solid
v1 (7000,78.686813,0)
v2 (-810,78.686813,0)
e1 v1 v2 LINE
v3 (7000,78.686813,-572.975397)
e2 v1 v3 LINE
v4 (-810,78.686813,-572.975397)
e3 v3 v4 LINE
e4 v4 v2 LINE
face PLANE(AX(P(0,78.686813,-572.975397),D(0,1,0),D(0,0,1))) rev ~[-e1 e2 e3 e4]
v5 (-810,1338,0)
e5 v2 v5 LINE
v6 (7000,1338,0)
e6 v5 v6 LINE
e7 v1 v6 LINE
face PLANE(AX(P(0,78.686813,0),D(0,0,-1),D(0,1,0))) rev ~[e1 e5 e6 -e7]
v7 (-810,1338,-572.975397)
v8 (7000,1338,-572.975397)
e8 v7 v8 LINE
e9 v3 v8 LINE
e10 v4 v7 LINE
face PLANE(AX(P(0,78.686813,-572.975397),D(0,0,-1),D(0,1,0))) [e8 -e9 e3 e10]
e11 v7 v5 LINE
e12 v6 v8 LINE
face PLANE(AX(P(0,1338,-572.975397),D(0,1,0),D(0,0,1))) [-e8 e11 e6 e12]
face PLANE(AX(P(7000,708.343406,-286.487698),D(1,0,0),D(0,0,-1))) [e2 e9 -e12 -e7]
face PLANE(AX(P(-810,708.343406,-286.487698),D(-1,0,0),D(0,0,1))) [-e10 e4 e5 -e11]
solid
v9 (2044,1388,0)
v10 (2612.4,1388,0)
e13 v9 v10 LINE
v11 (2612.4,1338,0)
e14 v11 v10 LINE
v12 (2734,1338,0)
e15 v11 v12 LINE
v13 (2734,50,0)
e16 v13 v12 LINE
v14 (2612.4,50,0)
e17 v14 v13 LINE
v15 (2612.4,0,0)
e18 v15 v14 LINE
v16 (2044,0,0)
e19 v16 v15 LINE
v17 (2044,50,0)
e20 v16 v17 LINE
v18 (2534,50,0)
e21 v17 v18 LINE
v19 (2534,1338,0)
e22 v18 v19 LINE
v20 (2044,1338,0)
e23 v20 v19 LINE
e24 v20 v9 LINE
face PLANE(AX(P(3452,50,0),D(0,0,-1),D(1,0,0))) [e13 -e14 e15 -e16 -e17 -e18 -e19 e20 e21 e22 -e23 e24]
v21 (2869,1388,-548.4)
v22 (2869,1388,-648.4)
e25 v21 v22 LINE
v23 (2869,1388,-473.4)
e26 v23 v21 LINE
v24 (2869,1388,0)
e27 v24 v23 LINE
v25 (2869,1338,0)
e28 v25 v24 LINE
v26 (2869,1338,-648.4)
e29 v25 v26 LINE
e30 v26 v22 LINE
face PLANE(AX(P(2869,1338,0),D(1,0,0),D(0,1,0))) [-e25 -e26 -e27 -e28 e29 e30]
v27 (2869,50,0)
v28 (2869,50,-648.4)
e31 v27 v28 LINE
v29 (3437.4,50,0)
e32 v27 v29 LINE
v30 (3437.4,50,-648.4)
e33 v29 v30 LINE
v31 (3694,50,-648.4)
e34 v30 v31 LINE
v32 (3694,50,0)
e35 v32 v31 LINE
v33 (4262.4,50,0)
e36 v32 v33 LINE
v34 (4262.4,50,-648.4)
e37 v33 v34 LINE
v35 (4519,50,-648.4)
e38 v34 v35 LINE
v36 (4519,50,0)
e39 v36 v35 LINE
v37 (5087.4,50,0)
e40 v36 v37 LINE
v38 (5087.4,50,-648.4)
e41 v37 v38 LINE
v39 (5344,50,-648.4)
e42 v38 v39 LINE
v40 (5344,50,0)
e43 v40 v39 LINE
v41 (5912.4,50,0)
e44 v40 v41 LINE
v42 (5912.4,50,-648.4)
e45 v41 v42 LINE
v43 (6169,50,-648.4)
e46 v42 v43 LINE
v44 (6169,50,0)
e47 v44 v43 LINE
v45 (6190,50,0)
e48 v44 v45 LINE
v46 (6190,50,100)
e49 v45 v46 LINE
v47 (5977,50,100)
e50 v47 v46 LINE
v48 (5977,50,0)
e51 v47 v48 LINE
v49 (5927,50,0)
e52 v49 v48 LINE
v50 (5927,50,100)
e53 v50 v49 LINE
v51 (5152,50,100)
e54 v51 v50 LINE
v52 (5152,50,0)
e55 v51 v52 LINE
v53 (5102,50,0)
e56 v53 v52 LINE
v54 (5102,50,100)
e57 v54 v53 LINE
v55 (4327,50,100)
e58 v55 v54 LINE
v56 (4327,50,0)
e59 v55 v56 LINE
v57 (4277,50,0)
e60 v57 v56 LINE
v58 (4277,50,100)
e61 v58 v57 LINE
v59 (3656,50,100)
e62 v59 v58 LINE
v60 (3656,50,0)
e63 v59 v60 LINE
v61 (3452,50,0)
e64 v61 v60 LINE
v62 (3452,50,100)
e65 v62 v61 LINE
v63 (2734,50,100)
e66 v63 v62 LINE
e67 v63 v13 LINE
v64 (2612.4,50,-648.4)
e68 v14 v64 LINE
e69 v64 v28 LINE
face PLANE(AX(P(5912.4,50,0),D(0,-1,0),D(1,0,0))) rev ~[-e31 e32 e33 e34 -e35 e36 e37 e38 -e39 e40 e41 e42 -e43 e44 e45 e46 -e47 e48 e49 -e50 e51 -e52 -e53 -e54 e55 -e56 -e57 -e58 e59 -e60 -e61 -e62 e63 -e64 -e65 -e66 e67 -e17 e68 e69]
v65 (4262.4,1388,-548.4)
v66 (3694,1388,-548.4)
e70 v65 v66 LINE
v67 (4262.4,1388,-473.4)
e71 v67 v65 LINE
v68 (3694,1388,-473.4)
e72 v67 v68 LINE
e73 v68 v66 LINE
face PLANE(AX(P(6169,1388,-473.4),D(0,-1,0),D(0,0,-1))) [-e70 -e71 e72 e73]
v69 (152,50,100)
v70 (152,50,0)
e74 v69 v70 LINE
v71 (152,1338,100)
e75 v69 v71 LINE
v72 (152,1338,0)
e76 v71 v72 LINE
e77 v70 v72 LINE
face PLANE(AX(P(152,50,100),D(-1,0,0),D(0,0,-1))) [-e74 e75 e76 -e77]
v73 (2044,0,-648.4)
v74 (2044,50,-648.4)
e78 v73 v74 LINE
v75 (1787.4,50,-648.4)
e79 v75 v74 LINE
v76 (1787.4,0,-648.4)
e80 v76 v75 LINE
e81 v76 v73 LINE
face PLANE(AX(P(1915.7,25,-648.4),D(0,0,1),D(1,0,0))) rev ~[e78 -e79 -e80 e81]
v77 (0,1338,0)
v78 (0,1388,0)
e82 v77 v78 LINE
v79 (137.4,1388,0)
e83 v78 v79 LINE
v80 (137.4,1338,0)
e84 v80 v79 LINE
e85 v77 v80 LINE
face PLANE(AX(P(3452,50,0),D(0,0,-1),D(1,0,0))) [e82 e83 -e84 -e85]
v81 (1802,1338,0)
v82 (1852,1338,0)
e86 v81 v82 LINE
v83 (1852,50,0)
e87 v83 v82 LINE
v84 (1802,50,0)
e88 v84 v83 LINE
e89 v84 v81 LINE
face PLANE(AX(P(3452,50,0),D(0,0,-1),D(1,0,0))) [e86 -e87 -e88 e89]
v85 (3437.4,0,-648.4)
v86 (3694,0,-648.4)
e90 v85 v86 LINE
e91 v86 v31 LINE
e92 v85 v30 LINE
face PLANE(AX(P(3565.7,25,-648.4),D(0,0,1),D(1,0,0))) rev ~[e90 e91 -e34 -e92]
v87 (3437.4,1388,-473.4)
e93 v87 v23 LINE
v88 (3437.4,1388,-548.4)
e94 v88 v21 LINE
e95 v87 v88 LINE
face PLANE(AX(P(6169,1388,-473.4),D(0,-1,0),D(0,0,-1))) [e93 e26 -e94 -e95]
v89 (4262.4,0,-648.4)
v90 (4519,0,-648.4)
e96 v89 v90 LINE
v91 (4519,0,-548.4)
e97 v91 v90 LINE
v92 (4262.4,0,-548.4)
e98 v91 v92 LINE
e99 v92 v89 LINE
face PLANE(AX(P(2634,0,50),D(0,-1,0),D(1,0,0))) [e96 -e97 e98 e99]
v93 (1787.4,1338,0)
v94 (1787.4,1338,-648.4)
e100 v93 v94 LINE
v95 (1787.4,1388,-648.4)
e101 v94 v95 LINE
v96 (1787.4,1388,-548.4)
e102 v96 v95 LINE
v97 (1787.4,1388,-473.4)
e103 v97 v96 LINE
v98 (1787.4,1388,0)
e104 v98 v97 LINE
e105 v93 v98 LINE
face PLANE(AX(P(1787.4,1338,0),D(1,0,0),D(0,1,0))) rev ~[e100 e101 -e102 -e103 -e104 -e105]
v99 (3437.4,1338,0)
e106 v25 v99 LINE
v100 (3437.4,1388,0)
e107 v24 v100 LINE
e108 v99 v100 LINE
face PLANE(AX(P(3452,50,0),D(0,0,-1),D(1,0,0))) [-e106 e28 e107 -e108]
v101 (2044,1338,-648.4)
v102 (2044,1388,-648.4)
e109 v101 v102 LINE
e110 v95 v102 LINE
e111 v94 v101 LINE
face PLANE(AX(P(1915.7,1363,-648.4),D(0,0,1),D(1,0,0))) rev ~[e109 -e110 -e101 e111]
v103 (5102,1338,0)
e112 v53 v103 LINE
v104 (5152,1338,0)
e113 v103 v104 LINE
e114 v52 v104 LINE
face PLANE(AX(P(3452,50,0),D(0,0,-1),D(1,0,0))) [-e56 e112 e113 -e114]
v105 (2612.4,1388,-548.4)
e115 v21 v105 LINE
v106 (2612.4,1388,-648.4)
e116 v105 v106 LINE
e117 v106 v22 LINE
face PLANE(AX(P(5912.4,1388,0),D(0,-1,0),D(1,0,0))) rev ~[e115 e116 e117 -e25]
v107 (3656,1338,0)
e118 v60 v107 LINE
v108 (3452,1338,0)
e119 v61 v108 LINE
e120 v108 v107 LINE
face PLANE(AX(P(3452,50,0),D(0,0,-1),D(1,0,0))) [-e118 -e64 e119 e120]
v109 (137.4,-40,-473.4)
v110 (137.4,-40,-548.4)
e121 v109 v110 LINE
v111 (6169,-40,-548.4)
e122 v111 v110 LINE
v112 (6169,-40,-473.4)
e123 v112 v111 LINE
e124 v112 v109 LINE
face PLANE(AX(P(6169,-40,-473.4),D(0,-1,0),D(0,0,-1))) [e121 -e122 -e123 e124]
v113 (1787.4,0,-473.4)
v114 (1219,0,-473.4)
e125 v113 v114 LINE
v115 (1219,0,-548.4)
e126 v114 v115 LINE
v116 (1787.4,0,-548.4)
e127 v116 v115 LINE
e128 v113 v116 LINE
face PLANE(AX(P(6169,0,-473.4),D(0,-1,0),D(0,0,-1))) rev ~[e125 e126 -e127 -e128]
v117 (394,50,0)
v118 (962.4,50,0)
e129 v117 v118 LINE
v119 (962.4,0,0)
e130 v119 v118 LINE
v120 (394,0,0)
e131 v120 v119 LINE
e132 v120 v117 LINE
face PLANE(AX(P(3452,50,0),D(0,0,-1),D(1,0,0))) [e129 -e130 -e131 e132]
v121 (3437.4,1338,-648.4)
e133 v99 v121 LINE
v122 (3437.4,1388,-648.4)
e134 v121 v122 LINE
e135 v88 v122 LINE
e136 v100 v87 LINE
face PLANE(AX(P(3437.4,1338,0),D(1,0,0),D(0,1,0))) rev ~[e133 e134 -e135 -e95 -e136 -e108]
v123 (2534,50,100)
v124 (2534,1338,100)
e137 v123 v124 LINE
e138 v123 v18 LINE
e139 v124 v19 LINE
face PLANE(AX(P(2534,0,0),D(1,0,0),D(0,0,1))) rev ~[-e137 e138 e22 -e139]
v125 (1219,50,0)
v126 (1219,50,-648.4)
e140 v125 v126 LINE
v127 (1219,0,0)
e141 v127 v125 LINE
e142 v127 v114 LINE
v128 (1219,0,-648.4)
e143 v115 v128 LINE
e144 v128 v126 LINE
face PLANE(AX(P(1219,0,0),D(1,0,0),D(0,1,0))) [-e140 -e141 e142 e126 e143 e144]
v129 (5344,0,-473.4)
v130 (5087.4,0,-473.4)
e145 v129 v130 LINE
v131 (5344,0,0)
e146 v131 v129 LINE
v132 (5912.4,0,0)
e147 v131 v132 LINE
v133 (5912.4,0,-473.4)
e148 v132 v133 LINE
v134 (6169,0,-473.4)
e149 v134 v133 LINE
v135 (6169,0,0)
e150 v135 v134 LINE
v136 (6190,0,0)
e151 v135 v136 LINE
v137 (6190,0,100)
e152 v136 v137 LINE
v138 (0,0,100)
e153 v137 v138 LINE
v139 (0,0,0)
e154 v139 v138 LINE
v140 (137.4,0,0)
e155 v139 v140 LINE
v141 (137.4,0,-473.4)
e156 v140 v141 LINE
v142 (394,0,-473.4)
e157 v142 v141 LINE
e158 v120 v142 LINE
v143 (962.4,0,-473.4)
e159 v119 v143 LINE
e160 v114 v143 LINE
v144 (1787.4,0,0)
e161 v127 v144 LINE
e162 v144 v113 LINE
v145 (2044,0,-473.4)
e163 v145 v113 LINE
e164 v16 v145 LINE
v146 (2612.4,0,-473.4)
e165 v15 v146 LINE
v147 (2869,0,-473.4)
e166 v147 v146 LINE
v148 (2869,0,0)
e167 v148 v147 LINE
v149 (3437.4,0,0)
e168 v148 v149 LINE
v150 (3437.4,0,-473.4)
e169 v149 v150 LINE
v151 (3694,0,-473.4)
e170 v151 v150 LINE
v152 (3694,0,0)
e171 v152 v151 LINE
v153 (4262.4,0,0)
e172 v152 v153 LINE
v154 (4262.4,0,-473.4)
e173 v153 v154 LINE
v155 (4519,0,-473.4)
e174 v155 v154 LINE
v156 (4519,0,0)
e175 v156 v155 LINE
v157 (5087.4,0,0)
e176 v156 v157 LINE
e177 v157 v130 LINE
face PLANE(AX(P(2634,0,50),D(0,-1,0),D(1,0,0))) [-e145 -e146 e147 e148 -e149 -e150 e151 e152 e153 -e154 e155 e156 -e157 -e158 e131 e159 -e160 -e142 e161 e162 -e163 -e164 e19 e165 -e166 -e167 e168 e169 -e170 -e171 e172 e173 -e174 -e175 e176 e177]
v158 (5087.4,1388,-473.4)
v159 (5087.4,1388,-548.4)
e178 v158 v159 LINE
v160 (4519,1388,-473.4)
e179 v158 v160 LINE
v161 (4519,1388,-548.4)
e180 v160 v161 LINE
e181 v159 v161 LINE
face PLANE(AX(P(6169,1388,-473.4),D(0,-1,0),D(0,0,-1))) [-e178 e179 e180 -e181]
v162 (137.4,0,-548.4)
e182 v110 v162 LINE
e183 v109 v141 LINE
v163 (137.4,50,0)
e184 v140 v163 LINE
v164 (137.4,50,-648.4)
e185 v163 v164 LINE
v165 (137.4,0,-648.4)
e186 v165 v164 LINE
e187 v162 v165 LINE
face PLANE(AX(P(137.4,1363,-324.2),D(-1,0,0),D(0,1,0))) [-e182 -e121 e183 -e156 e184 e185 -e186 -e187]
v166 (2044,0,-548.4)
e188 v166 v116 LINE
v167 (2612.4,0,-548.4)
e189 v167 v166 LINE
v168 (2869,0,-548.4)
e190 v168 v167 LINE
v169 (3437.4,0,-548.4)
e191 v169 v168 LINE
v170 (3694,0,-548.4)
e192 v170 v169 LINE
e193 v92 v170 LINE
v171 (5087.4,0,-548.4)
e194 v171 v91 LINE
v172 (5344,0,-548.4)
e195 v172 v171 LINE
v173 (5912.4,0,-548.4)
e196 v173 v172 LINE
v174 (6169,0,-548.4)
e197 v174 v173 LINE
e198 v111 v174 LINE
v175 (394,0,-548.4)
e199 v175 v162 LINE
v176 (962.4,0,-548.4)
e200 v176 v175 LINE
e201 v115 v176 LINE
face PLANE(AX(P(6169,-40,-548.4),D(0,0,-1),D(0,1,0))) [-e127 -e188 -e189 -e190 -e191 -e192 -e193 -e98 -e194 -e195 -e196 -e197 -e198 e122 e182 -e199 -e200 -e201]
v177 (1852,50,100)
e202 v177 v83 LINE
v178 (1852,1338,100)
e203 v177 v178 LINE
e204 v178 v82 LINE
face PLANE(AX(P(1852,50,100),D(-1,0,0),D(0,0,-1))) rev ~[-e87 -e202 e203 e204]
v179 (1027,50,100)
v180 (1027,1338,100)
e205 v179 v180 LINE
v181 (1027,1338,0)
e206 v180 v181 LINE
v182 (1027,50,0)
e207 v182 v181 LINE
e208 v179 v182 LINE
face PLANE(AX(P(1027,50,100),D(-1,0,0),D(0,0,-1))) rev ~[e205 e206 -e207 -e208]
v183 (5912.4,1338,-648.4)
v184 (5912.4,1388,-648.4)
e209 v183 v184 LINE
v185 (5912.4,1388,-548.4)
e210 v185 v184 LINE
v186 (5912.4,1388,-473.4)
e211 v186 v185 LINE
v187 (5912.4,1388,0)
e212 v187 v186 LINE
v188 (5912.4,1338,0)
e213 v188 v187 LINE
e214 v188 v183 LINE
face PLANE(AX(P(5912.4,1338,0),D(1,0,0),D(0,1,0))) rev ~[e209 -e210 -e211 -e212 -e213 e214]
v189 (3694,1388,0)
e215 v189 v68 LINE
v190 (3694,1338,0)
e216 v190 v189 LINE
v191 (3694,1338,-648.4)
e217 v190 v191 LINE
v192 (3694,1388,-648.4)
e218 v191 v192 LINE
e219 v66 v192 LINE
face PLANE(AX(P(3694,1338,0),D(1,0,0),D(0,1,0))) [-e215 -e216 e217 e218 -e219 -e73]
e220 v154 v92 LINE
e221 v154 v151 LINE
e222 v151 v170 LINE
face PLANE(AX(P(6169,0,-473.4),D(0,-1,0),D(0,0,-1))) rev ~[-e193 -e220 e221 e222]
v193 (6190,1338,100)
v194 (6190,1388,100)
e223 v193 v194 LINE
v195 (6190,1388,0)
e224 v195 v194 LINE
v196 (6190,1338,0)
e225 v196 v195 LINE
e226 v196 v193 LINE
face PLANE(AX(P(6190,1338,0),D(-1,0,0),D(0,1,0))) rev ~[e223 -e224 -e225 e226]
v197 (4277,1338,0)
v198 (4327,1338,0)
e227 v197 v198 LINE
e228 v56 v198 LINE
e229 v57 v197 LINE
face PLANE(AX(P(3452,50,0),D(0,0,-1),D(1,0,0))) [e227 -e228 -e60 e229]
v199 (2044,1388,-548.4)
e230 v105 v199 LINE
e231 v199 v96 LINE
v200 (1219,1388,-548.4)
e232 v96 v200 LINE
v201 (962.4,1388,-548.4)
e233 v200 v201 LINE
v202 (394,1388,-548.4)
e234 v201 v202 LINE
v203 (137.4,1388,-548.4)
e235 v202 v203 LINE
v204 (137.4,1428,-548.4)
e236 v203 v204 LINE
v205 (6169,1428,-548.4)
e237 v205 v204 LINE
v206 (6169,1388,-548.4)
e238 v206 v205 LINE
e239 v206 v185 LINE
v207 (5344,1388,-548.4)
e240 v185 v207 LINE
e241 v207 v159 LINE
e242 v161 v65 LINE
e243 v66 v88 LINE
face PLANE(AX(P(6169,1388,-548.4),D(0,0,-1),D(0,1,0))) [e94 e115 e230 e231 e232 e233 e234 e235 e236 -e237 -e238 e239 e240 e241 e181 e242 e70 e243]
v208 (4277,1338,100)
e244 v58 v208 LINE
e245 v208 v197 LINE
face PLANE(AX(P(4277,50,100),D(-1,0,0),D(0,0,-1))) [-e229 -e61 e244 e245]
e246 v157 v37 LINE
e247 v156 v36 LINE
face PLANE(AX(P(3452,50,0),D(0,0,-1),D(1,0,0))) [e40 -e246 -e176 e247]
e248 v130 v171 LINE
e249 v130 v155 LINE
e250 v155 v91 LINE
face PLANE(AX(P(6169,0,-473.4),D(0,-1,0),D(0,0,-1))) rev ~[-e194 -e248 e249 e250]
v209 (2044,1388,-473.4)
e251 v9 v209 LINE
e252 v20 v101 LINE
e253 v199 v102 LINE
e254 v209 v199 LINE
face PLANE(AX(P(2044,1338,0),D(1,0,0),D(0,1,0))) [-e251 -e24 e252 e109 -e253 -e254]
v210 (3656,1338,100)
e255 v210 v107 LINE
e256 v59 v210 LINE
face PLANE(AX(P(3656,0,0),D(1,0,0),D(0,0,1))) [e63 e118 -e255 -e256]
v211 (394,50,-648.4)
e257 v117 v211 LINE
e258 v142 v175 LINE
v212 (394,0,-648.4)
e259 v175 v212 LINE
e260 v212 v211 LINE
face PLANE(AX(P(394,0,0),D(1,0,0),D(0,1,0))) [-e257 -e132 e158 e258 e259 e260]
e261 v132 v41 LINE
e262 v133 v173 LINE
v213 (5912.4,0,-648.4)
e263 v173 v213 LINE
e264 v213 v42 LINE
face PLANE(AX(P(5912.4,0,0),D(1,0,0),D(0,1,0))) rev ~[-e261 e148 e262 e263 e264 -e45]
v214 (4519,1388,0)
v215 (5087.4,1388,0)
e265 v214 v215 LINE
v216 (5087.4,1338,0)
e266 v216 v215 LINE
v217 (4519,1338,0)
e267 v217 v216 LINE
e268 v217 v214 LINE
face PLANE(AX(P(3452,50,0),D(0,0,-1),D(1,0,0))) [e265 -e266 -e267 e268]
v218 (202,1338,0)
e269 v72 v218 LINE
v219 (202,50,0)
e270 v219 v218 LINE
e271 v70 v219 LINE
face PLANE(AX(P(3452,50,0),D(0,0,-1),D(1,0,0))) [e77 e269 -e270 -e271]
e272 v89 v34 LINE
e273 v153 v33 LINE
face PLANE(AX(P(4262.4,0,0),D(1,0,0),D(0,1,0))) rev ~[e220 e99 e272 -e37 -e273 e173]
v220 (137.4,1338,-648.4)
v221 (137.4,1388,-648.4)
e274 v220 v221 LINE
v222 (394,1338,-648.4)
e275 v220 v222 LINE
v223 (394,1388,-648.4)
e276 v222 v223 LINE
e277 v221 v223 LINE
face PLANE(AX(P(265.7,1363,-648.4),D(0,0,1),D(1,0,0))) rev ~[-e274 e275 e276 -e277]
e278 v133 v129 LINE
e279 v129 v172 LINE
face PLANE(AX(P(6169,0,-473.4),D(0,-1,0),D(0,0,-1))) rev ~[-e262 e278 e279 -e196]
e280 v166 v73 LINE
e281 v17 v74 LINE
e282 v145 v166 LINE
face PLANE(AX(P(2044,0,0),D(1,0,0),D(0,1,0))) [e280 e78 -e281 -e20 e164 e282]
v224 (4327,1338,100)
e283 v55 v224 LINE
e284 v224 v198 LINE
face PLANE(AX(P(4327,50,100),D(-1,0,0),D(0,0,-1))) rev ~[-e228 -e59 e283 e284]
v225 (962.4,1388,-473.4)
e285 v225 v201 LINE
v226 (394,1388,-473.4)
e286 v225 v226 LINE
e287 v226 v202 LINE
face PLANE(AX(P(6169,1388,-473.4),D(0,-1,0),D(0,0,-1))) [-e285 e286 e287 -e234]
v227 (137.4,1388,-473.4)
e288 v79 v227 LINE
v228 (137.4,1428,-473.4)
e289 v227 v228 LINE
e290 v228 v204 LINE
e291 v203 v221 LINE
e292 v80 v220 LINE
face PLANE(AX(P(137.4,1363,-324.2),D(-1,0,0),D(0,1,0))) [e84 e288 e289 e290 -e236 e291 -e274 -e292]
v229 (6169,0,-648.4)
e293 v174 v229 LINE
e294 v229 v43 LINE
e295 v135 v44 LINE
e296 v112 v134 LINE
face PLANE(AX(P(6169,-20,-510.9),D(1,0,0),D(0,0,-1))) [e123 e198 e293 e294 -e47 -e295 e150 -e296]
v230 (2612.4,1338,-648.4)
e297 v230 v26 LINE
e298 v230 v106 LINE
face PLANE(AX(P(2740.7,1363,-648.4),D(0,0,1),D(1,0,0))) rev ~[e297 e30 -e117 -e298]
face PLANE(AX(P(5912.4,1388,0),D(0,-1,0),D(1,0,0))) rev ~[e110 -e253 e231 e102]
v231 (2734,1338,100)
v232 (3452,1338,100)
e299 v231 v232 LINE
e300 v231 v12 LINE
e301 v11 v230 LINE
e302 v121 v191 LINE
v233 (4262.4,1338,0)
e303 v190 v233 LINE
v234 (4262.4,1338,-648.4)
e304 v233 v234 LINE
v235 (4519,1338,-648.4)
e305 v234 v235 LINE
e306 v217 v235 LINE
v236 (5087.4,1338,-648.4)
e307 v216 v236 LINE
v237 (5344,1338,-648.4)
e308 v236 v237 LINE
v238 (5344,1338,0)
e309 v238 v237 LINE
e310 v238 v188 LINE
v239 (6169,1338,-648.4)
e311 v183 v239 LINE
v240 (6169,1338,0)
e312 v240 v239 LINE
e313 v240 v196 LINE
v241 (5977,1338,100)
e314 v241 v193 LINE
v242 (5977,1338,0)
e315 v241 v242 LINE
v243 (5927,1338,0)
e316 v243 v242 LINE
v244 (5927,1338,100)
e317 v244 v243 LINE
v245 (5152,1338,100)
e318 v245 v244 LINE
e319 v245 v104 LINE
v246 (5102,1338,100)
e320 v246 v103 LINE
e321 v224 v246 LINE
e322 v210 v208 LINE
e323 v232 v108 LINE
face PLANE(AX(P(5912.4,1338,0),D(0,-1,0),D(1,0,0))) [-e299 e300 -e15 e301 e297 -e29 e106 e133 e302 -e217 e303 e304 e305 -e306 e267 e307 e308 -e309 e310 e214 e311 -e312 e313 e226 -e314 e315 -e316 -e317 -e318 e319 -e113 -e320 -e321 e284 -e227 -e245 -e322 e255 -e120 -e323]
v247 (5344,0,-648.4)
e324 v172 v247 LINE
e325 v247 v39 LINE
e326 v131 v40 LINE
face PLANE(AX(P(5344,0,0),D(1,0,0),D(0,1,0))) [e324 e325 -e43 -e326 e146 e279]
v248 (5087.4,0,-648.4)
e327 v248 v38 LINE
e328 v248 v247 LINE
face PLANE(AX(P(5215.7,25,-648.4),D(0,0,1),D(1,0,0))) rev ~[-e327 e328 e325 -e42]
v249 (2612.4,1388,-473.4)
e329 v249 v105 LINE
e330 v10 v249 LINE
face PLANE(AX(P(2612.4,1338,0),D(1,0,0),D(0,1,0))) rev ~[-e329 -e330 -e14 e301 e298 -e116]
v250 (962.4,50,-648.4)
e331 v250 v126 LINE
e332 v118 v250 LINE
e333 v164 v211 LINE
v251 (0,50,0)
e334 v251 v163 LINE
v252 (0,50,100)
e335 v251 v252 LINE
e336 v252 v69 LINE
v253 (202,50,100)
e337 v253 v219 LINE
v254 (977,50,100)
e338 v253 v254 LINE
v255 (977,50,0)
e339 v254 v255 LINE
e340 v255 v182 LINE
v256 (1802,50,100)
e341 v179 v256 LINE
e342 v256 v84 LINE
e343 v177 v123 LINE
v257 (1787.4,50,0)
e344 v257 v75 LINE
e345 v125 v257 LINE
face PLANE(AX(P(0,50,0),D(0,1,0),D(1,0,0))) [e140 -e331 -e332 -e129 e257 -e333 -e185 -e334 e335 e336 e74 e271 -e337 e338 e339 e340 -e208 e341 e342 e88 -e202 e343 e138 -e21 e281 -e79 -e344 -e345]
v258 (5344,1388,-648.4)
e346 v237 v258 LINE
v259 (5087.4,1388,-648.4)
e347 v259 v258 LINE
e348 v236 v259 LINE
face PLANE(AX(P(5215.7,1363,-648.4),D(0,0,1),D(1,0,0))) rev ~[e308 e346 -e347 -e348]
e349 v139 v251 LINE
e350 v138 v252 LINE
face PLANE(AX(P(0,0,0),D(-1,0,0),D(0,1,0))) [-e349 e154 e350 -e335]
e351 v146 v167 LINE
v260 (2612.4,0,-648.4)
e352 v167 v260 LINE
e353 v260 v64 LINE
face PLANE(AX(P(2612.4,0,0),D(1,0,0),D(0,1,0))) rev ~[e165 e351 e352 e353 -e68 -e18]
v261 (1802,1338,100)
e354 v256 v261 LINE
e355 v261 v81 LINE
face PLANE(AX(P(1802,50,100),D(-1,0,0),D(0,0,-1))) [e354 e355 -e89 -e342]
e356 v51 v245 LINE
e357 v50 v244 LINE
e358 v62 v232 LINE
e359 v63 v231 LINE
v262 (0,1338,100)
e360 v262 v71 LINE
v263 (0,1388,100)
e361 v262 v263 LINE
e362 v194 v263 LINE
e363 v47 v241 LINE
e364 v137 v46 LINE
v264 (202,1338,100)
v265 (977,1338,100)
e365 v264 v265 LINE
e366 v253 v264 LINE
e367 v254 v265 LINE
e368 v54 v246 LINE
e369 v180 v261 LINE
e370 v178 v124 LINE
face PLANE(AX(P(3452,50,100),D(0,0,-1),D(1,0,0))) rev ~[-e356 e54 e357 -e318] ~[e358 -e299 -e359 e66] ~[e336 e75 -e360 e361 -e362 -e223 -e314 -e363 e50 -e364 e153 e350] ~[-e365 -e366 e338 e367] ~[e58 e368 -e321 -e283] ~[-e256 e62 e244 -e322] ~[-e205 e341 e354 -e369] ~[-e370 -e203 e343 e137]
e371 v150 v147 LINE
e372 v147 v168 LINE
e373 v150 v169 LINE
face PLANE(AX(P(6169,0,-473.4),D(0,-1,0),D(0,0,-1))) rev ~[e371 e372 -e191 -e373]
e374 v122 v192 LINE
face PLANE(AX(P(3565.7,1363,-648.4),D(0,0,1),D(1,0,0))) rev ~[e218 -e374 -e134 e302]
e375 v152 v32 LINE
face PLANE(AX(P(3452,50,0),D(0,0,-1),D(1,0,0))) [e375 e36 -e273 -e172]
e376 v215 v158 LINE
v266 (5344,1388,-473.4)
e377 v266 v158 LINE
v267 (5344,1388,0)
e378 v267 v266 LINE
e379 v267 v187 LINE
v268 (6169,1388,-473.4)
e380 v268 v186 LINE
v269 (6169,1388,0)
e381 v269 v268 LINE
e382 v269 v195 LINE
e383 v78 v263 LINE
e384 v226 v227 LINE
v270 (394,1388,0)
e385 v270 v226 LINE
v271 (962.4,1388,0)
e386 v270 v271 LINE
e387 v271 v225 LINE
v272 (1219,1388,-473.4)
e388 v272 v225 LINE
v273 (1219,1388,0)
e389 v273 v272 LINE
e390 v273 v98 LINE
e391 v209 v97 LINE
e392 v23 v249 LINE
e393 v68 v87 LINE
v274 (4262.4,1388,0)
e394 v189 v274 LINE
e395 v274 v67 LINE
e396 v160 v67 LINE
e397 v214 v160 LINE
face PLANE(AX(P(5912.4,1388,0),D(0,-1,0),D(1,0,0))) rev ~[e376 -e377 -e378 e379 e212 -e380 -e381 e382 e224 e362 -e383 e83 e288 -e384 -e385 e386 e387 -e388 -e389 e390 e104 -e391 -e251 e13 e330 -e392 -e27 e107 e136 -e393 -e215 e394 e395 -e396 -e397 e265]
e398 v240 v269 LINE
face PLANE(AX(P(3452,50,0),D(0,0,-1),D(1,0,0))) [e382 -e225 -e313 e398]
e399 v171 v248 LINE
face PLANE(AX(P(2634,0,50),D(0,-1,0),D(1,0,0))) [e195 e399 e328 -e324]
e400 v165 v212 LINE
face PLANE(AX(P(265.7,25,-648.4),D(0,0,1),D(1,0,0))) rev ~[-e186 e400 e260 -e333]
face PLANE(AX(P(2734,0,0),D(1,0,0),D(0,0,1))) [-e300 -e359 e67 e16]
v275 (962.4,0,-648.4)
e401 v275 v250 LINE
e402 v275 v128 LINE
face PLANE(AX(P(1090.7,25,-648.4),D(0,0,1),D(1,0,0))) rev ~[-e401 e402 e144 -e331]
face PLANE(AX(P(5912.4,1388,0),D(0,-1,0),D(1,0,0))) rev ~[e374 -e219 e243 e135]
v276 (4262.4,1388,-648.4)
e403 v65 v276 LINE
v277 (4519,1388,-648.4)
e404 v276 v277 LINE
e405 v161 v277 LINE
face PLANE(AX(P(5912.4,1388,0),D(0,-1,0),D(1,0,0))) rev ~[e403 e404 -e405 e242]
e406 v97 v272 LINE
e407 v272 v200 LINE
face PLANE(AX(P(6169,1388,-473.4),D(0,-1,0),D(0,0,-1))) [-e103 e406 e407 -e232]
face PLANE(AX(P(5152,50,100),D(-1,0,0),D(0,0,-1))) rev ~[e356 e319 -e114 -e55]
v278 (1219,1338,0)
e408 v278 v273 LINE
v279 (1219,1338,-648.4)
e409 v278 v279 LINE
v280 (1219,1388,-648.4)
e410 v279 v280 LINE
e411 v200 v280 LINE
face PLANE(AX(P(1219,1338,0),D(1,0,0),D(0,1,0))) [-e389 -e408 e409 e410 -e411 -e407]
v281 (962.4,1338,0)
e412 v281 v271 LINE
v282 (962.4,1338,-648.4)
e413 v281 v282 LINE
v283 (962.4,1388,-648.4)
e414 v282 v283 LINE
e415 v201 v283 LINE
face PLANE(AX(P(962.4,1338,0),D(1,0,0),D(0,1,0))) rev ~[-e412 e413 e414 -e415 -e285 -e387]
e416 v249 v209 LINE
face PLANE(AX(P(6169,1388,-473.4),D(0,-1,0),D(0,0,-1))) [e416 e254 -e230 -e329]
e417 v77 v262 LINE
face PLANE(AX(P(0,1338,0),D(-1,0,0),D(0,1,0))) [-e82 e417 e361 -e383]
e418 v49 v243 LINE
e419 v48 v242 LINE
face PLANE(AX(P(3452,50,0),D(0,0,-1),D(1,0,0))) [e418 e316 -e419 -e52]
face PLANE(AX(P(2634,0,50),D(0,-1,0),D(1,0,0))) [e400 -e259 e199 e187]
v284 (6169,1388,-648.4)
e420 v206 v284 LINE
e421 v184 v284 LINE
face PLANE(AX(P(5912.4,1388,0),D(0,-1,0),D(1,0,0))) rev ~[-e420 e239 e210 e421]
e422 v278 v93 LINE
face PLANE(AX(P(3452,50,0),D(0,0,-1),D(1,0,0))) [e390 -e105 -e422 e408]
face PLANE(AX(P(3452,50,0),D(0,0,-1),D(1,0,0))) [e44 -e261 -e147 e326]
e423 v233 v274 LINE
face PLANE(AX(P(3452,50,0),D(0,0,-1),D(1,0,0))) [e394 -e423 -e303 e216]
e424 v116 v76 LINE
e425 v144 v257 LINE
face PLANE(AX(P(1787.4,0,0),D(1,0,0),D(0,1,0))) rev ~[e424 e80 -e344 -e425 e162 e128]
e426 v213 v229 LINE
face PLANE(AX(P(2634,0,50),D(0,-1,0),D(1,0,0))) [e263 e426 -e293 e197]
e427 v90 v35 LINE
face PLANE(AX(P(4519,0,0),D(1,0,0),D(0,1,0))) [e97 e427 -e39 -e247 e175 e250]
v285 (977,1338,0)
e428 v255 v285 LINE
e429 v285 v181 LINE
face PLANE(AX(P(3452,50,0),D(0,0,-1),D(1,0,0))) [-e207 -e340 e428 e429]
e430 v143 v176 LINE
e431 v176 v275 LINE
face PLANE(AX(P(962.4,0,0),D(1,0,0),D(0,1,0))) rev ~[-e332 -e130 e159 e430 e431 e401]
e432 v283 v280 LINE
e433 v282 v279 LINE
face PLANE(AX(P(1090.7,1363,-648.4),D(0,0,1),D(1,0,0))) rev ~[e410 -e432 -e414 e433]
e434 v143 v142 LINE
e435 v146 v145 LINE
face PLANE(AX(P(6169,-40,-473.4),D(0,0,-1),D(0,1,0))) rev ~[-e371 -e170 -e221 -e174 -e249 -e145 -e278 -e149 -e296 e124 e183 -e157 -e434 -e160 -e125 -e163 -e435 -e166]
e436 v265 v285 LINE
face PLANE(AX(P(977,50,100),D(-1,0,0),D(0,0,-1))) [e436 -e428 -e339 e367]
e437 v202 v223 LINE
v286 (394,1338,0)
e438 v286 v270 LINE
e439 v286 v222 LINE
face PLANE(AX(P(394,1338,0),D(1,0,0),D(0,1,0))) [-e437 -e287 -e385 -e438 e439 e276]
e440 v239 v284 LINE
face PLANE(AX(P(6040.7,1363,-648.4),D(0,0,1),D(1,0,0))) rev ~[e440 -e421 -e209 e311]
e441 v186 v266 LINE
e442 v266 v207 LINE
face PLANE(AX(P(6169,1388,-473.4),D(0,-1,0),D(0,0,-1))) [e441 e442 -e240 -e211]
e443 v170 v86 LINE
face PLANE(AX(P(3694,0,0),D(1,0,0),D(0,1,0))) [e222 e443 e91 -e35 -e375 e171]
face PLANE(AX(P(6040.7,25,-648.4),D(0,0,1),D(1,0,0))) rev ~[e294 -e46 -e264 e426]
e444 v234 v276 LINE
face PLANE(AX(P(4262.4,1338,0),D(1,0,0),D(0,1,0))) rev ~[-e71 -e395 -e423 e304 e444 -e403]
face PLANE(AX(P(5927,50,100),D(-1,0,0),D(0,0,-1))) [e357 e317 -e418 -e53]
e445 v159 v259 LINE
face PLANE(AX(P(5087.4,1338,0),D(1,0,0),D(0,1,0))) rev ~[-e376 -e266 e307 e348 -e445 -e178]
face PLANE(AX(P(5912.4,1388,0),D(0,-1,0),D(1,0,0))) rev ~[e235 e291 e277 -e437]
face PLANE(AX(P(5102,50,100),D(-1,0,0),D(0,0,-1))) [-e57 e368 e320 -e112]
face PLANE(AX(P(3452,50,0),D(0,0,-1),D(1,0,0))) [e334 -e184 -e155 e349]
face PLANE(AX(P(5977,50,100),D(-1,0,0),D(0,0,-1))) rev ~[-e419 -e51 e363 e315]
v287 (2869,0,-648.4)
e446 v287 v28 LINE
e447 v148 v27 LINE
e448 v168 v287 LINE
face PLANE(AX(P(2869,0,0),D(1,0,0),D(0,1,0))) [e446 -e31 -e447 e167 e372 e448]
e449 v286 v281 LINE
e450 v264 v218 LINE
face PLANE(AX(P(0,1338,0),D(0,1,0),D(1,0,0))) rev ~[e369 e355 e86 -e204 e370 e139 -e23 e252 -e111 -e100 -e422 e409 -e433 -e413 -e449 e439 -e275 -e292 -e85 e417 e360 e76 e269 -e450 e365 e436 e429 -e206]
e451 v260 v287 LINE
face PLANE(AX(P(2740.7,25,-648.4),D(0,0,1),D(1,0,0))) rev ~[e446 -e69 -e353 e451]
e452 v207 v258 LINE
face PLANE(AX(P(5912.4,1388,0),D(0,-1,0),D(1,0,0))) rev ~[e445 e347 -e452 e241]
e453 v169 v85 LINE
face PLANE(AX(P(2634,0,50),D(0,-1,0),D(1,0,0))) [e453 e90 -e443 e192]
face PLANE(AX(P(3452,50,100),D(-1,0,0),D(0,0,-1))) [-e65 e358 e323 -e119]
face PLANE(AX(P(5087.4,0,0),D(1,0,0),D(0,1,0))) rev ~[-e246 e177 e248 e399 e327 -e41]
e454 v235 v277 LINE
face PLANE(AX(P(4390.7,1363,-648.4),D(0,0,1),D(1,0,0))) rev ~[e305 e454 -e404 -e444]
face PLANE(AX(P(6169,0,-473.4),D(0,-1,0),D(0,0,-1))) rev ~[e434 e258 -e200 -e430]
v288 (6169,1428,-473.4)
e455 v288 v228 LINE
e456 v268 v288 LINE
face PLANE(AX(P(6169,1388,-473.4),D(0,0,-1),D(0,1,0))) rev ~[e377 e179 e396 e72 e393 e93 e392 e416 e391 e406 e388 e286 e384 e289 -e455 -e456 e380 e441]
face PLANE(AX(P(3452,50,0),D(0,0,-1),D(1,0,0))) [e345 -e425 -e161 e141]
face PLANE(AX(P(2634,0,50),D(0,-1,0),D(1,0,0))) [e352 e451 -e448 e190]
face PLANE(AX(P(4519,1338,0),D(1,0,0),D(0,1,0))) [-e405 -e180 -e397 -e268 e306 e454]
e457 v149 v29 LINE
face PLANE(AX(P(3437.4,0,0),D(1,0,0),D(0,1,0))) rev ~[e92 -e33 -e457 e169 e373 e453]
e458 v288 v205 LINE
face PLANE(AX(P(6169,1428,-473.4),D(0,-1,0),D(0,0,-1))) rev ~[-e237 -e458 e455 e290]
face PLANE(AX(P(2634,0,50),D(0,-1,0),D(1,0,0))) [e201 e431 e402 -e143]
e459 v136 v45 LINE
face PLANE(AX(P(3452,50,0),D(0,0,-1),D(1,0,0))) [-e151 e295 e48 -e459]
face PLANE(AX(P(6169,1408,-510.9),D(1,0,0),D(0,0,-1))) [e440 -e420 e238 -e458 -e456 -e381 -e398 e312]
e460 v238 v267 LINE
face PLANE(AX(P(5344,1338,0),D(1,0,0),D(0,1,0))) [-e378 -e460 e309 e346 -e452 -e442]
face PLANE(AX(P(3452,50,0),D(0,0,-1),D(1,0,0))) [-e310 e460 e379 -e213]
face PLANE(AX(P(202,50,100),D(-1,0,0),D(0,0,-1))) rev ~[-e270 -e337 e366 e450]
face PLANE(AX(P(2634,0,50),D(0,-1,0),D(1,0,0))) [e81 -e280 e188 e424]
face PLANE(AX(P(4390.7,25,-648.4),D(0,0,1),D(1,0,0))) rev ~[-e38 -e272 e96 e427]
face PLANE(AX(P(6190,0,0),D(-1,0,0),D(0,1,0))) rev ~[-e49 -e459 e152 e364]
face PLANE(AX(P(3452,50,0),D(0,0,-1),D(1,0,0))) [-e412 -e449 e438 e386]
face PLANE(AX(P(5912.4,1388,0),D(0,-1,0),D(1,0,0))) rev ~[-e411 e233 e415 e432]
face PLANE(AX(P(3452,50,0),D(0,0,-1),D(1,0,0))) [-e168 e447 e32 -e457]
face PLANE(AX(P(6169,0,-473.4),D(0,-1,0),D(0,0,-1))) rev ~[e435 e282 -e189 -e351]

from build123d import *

# Parameters (mm, degrees)
SKETCH1_W             = 6190
SKETCH1_H             = 50
BOSS_EXTRUDE1_DEPTH   = 100
BOSS_EXTRUDE1_2_DEPTH = 100
SKETCH2_W             = 200
SKETCH2_H             = 100
BOSS_EXTRUDE2_DEPTH   = 1388
SKETCH4_W             = 50
SKETCH4_H             = 100
BOSS_EXTRUDE3_DEPTH   = 1288
SKETCH5_W             = 256.6
SKETCH5_H             = 50
BOSS_EXTRUDE4_DEPTH   = 648.4
BOSS_EXTRUDE12_REACH  = 6358.377
SKETCH13_W            = 75
SKETCH13_H            = 40
SKETCH11_W            = 572.975396728
SKETCH11_H            = 1259.313187421
BOSS_EXTRUDE10_DEPTH  = 7000
SKETCH12_W            = 572.975396728
SKETCH12_H            = 1259.313187421
BOSS_EXTRUDE11_DEPTH  = 810


with BuildPart() as part:
    # Sketch1 → Boss-Extrude1 (new body)
    with BuildSketch(Plane.XY):
        with Locations((3095, 1363)):
            Rectangle(SKETCH1_W, SKETCH1_H)
    extrude(amount=BOSS_EXTRUDE1_DEPTH)



with BuildPart() as body_2:
    # Sketch1 → Boss-Extrude1 2 (new body)
    with BuildSketch(Plane.XY):
        with Locations((3095, 25)):
            Rectangle(SKETCH1_W, SKETCH1_H)
    extrude(amount=BOSS_EXTRUDE1_2_DEPTH)


with BuildPart() as part_1:
    add(part.part)

    add(body_2.part)  # Boss-Extrude2 merges body 2
    # Sketch2 → Boss-Extrude2 (add)
    with BuildSketch(Plane.XZ):
        with Locations((2634, 50)):
            Rectangle(SKETCH2_W, SKETCH2_H)
        with Locations((3556, 50)):
            Rectangle(SKETCH2_W, SKETCH2_H)
    extrude(amount=-BOSS_EXTRUDE2_DEPTH)

    # Sketch4 → Boss-Extrude3 (add)
    with BuildSketch(Plane(origin=(0, 50, 0), x_dir=(1, 0, 0), z_dir=(0, 1, 0))):
        with Locations((177, -50)):
            Rectangle(SKETCH4_W, SKETCH4_H)
        with Locations((1002, -50)):
            Rectangle(SKETCH4_W, SKETCH4_H)
        with Locations((1827, -50)):
            Rectangle(SKETCH4_W, SKETCH4_H)
        with Locations((2652, -50)):
            Rectangle(SKETCH4_W, SKETCH4_H)
        with Locations((3477, -50)):
            Rectangle(SKETCH4_W, SKETCH4_H)
        with Locations((4302, -50)):
            Rectangle(SKETCH4_W, SKETCH4_H)
        with Locations((5127, -50)):
            Rectangle(SKETCH4_W, SKETCH4_H)
        with Locations((5952, -50)):
            Rectangle(SKETCH4_W, SKETCH4_H)
    extrude(amount=BOSS_EXTRUDE3_DEPTH)

    # Sketch5 → Boss-Extrude4 (add)
    with BuildSketch(Plane.XY):
        with Locations((6040.7, 1363)):
            Rectangle(SKETCH5_W, SKETCH5_H)
        with Locations((265.7, 1363)):
            Rectangle(SKETCH5_W, SKETCH5_H)
        with Locations((265.7, 25)):
            Rectangle(SKETCH5_W, SKETCH5_H)
        with Locations((6040.7, 25)):
            Rectangle(SKETCH5_W, SKETCH5_H)
        with Locations((5215.7, 25)):
            Rectangle(SKETCH5_W, SKETCH5_H)
        with Locations((1090.7, 1363)):
            Rectangle(SKETCH5_W, SKETCH5_H)
        with Locations((4390.7, 25)):
            Rectangle(SKETCH5_W, SKETCH5_H)
        with Locations((1915.7, 1363)):
            Rectangle(SKETCH5_W, SKETCH5_H)
        with Locations((3565.7, 25)):
            Rectangle(SKETCH5_W, SKETCH5_H)
        with Locations((2740.7, 1363)):
            Rectangle(SKETCH5_W, SKETCH5_H)
        with Locations((2740.7, 25)):
            Rectangle(SKETCH5_W, SKETCH5_H)
        with Locations((3565.7, 1363)):
            Rectangle(SKETCH5_W, SKETCH5_H)
        with Locations((1915.7, 25)):
            Rectangle(SKETCH5_W, SKETCH5_H)
        with Locations((1090.7, 25)):
            Rectangle(SKETCH5_W, SKETCH5_H)
        with Locations((4390.7, 1363)):
            Rectangle(SKETCH5_W, SKETCH5_H)
        with Locations((5215.7, 1363)):
            Rectangle(SKETCH5_W, SKETCH5_H)
    extrude(amount=-BOSS_EXTRUDE4_DEPTH)

    # Boss-Extrude12: up to this face of the body (flat: up to its plane)
    boss_extrude12_end = Plane(part_1.part.faces().sort_by_distance((137.4, 1363, -324.2))[0])
    # Sketch13 → Boss-Extrude12 (add, up to the picked face)
    with BuildSketch(Plane(origin=(6169, 0, 0), x_dir=(0, 0, -1), z_dir=(1, 0, 0)), mode=Mode.PRIVATE) as boss_extrude12_sk1:
        with Locations((510.9, -20)):
            Rectangle(SKETCH13_W, SKETCH13_H)
    boss_extrude12_tool1 = split(extrude(boss_extrude12_sk1.sketch, amount=-BOSS_EXTRUDE12_REACH, mode=Mode.PRIVATE), bisect_by=boss_extrude12_end, keep=Keep.BOTH, mode=Mode.PRIVATE)
    # Sketch13 → Boss-Extrude12 (add, up to the picked face)
    with BuildSketch(Plane(origin=(6169, 0, 0), x_dir=(0, 0, -1), z_dir=(1, 0, 0)), mode=Mode.PRIVATE) as boss_extrude12_sk2:
        with Locations((510.9, 1408)):
            Rectangle(SKETCH13_W, SKETCH13_H)
    boss_extrude12_tool2 = split(extrude(boss_extrude12_sk2.sketch, amount=-BOSS_EXTRUDE12_REACH, mode=Mode.PRIVATE), bisect_by=boss_extrude12_end, keep=Keep.BOTH, mode=Mode.PRIVATE)
    add(boss_extrude12_tool1.solids().sort_by(Axis((6169, -20, -510.9), (-1, 0, 0)))[0])
    add(boss_extrude12_tool2.solids().sort_by(Axis((6169, 1408, -510.9), (-1, 0, 0)))[0])


with BuildPart() as body_2_2:
    # Sketch11 → Boss-Extrude10 (new body)
    with BuildSketch(Plane(origin=(0, 0, 0), x_dir=(0, 0, -1), z_dir=(1, 0, 0))):
        with Locations((286.487698364, 708.343406289)):
            Rectangle(SKETCH11_W, SKETCH11_H)
    extrude(amount=BOSS_EXTRUDE10_DEPTH)

    # Sketch12 → Boss-Extrude11 (add)
    with BuildSketch(Plane.ZY):
        with Locations((-286.487698364, 708.343406289)):
            Rectangle(SKETCH12_W, SKETCH12_H)
    extrude(amount=BOSS_EXTRUDE11_DEPTH)


solid = Compound([part_1.part, body_2_2.part])
